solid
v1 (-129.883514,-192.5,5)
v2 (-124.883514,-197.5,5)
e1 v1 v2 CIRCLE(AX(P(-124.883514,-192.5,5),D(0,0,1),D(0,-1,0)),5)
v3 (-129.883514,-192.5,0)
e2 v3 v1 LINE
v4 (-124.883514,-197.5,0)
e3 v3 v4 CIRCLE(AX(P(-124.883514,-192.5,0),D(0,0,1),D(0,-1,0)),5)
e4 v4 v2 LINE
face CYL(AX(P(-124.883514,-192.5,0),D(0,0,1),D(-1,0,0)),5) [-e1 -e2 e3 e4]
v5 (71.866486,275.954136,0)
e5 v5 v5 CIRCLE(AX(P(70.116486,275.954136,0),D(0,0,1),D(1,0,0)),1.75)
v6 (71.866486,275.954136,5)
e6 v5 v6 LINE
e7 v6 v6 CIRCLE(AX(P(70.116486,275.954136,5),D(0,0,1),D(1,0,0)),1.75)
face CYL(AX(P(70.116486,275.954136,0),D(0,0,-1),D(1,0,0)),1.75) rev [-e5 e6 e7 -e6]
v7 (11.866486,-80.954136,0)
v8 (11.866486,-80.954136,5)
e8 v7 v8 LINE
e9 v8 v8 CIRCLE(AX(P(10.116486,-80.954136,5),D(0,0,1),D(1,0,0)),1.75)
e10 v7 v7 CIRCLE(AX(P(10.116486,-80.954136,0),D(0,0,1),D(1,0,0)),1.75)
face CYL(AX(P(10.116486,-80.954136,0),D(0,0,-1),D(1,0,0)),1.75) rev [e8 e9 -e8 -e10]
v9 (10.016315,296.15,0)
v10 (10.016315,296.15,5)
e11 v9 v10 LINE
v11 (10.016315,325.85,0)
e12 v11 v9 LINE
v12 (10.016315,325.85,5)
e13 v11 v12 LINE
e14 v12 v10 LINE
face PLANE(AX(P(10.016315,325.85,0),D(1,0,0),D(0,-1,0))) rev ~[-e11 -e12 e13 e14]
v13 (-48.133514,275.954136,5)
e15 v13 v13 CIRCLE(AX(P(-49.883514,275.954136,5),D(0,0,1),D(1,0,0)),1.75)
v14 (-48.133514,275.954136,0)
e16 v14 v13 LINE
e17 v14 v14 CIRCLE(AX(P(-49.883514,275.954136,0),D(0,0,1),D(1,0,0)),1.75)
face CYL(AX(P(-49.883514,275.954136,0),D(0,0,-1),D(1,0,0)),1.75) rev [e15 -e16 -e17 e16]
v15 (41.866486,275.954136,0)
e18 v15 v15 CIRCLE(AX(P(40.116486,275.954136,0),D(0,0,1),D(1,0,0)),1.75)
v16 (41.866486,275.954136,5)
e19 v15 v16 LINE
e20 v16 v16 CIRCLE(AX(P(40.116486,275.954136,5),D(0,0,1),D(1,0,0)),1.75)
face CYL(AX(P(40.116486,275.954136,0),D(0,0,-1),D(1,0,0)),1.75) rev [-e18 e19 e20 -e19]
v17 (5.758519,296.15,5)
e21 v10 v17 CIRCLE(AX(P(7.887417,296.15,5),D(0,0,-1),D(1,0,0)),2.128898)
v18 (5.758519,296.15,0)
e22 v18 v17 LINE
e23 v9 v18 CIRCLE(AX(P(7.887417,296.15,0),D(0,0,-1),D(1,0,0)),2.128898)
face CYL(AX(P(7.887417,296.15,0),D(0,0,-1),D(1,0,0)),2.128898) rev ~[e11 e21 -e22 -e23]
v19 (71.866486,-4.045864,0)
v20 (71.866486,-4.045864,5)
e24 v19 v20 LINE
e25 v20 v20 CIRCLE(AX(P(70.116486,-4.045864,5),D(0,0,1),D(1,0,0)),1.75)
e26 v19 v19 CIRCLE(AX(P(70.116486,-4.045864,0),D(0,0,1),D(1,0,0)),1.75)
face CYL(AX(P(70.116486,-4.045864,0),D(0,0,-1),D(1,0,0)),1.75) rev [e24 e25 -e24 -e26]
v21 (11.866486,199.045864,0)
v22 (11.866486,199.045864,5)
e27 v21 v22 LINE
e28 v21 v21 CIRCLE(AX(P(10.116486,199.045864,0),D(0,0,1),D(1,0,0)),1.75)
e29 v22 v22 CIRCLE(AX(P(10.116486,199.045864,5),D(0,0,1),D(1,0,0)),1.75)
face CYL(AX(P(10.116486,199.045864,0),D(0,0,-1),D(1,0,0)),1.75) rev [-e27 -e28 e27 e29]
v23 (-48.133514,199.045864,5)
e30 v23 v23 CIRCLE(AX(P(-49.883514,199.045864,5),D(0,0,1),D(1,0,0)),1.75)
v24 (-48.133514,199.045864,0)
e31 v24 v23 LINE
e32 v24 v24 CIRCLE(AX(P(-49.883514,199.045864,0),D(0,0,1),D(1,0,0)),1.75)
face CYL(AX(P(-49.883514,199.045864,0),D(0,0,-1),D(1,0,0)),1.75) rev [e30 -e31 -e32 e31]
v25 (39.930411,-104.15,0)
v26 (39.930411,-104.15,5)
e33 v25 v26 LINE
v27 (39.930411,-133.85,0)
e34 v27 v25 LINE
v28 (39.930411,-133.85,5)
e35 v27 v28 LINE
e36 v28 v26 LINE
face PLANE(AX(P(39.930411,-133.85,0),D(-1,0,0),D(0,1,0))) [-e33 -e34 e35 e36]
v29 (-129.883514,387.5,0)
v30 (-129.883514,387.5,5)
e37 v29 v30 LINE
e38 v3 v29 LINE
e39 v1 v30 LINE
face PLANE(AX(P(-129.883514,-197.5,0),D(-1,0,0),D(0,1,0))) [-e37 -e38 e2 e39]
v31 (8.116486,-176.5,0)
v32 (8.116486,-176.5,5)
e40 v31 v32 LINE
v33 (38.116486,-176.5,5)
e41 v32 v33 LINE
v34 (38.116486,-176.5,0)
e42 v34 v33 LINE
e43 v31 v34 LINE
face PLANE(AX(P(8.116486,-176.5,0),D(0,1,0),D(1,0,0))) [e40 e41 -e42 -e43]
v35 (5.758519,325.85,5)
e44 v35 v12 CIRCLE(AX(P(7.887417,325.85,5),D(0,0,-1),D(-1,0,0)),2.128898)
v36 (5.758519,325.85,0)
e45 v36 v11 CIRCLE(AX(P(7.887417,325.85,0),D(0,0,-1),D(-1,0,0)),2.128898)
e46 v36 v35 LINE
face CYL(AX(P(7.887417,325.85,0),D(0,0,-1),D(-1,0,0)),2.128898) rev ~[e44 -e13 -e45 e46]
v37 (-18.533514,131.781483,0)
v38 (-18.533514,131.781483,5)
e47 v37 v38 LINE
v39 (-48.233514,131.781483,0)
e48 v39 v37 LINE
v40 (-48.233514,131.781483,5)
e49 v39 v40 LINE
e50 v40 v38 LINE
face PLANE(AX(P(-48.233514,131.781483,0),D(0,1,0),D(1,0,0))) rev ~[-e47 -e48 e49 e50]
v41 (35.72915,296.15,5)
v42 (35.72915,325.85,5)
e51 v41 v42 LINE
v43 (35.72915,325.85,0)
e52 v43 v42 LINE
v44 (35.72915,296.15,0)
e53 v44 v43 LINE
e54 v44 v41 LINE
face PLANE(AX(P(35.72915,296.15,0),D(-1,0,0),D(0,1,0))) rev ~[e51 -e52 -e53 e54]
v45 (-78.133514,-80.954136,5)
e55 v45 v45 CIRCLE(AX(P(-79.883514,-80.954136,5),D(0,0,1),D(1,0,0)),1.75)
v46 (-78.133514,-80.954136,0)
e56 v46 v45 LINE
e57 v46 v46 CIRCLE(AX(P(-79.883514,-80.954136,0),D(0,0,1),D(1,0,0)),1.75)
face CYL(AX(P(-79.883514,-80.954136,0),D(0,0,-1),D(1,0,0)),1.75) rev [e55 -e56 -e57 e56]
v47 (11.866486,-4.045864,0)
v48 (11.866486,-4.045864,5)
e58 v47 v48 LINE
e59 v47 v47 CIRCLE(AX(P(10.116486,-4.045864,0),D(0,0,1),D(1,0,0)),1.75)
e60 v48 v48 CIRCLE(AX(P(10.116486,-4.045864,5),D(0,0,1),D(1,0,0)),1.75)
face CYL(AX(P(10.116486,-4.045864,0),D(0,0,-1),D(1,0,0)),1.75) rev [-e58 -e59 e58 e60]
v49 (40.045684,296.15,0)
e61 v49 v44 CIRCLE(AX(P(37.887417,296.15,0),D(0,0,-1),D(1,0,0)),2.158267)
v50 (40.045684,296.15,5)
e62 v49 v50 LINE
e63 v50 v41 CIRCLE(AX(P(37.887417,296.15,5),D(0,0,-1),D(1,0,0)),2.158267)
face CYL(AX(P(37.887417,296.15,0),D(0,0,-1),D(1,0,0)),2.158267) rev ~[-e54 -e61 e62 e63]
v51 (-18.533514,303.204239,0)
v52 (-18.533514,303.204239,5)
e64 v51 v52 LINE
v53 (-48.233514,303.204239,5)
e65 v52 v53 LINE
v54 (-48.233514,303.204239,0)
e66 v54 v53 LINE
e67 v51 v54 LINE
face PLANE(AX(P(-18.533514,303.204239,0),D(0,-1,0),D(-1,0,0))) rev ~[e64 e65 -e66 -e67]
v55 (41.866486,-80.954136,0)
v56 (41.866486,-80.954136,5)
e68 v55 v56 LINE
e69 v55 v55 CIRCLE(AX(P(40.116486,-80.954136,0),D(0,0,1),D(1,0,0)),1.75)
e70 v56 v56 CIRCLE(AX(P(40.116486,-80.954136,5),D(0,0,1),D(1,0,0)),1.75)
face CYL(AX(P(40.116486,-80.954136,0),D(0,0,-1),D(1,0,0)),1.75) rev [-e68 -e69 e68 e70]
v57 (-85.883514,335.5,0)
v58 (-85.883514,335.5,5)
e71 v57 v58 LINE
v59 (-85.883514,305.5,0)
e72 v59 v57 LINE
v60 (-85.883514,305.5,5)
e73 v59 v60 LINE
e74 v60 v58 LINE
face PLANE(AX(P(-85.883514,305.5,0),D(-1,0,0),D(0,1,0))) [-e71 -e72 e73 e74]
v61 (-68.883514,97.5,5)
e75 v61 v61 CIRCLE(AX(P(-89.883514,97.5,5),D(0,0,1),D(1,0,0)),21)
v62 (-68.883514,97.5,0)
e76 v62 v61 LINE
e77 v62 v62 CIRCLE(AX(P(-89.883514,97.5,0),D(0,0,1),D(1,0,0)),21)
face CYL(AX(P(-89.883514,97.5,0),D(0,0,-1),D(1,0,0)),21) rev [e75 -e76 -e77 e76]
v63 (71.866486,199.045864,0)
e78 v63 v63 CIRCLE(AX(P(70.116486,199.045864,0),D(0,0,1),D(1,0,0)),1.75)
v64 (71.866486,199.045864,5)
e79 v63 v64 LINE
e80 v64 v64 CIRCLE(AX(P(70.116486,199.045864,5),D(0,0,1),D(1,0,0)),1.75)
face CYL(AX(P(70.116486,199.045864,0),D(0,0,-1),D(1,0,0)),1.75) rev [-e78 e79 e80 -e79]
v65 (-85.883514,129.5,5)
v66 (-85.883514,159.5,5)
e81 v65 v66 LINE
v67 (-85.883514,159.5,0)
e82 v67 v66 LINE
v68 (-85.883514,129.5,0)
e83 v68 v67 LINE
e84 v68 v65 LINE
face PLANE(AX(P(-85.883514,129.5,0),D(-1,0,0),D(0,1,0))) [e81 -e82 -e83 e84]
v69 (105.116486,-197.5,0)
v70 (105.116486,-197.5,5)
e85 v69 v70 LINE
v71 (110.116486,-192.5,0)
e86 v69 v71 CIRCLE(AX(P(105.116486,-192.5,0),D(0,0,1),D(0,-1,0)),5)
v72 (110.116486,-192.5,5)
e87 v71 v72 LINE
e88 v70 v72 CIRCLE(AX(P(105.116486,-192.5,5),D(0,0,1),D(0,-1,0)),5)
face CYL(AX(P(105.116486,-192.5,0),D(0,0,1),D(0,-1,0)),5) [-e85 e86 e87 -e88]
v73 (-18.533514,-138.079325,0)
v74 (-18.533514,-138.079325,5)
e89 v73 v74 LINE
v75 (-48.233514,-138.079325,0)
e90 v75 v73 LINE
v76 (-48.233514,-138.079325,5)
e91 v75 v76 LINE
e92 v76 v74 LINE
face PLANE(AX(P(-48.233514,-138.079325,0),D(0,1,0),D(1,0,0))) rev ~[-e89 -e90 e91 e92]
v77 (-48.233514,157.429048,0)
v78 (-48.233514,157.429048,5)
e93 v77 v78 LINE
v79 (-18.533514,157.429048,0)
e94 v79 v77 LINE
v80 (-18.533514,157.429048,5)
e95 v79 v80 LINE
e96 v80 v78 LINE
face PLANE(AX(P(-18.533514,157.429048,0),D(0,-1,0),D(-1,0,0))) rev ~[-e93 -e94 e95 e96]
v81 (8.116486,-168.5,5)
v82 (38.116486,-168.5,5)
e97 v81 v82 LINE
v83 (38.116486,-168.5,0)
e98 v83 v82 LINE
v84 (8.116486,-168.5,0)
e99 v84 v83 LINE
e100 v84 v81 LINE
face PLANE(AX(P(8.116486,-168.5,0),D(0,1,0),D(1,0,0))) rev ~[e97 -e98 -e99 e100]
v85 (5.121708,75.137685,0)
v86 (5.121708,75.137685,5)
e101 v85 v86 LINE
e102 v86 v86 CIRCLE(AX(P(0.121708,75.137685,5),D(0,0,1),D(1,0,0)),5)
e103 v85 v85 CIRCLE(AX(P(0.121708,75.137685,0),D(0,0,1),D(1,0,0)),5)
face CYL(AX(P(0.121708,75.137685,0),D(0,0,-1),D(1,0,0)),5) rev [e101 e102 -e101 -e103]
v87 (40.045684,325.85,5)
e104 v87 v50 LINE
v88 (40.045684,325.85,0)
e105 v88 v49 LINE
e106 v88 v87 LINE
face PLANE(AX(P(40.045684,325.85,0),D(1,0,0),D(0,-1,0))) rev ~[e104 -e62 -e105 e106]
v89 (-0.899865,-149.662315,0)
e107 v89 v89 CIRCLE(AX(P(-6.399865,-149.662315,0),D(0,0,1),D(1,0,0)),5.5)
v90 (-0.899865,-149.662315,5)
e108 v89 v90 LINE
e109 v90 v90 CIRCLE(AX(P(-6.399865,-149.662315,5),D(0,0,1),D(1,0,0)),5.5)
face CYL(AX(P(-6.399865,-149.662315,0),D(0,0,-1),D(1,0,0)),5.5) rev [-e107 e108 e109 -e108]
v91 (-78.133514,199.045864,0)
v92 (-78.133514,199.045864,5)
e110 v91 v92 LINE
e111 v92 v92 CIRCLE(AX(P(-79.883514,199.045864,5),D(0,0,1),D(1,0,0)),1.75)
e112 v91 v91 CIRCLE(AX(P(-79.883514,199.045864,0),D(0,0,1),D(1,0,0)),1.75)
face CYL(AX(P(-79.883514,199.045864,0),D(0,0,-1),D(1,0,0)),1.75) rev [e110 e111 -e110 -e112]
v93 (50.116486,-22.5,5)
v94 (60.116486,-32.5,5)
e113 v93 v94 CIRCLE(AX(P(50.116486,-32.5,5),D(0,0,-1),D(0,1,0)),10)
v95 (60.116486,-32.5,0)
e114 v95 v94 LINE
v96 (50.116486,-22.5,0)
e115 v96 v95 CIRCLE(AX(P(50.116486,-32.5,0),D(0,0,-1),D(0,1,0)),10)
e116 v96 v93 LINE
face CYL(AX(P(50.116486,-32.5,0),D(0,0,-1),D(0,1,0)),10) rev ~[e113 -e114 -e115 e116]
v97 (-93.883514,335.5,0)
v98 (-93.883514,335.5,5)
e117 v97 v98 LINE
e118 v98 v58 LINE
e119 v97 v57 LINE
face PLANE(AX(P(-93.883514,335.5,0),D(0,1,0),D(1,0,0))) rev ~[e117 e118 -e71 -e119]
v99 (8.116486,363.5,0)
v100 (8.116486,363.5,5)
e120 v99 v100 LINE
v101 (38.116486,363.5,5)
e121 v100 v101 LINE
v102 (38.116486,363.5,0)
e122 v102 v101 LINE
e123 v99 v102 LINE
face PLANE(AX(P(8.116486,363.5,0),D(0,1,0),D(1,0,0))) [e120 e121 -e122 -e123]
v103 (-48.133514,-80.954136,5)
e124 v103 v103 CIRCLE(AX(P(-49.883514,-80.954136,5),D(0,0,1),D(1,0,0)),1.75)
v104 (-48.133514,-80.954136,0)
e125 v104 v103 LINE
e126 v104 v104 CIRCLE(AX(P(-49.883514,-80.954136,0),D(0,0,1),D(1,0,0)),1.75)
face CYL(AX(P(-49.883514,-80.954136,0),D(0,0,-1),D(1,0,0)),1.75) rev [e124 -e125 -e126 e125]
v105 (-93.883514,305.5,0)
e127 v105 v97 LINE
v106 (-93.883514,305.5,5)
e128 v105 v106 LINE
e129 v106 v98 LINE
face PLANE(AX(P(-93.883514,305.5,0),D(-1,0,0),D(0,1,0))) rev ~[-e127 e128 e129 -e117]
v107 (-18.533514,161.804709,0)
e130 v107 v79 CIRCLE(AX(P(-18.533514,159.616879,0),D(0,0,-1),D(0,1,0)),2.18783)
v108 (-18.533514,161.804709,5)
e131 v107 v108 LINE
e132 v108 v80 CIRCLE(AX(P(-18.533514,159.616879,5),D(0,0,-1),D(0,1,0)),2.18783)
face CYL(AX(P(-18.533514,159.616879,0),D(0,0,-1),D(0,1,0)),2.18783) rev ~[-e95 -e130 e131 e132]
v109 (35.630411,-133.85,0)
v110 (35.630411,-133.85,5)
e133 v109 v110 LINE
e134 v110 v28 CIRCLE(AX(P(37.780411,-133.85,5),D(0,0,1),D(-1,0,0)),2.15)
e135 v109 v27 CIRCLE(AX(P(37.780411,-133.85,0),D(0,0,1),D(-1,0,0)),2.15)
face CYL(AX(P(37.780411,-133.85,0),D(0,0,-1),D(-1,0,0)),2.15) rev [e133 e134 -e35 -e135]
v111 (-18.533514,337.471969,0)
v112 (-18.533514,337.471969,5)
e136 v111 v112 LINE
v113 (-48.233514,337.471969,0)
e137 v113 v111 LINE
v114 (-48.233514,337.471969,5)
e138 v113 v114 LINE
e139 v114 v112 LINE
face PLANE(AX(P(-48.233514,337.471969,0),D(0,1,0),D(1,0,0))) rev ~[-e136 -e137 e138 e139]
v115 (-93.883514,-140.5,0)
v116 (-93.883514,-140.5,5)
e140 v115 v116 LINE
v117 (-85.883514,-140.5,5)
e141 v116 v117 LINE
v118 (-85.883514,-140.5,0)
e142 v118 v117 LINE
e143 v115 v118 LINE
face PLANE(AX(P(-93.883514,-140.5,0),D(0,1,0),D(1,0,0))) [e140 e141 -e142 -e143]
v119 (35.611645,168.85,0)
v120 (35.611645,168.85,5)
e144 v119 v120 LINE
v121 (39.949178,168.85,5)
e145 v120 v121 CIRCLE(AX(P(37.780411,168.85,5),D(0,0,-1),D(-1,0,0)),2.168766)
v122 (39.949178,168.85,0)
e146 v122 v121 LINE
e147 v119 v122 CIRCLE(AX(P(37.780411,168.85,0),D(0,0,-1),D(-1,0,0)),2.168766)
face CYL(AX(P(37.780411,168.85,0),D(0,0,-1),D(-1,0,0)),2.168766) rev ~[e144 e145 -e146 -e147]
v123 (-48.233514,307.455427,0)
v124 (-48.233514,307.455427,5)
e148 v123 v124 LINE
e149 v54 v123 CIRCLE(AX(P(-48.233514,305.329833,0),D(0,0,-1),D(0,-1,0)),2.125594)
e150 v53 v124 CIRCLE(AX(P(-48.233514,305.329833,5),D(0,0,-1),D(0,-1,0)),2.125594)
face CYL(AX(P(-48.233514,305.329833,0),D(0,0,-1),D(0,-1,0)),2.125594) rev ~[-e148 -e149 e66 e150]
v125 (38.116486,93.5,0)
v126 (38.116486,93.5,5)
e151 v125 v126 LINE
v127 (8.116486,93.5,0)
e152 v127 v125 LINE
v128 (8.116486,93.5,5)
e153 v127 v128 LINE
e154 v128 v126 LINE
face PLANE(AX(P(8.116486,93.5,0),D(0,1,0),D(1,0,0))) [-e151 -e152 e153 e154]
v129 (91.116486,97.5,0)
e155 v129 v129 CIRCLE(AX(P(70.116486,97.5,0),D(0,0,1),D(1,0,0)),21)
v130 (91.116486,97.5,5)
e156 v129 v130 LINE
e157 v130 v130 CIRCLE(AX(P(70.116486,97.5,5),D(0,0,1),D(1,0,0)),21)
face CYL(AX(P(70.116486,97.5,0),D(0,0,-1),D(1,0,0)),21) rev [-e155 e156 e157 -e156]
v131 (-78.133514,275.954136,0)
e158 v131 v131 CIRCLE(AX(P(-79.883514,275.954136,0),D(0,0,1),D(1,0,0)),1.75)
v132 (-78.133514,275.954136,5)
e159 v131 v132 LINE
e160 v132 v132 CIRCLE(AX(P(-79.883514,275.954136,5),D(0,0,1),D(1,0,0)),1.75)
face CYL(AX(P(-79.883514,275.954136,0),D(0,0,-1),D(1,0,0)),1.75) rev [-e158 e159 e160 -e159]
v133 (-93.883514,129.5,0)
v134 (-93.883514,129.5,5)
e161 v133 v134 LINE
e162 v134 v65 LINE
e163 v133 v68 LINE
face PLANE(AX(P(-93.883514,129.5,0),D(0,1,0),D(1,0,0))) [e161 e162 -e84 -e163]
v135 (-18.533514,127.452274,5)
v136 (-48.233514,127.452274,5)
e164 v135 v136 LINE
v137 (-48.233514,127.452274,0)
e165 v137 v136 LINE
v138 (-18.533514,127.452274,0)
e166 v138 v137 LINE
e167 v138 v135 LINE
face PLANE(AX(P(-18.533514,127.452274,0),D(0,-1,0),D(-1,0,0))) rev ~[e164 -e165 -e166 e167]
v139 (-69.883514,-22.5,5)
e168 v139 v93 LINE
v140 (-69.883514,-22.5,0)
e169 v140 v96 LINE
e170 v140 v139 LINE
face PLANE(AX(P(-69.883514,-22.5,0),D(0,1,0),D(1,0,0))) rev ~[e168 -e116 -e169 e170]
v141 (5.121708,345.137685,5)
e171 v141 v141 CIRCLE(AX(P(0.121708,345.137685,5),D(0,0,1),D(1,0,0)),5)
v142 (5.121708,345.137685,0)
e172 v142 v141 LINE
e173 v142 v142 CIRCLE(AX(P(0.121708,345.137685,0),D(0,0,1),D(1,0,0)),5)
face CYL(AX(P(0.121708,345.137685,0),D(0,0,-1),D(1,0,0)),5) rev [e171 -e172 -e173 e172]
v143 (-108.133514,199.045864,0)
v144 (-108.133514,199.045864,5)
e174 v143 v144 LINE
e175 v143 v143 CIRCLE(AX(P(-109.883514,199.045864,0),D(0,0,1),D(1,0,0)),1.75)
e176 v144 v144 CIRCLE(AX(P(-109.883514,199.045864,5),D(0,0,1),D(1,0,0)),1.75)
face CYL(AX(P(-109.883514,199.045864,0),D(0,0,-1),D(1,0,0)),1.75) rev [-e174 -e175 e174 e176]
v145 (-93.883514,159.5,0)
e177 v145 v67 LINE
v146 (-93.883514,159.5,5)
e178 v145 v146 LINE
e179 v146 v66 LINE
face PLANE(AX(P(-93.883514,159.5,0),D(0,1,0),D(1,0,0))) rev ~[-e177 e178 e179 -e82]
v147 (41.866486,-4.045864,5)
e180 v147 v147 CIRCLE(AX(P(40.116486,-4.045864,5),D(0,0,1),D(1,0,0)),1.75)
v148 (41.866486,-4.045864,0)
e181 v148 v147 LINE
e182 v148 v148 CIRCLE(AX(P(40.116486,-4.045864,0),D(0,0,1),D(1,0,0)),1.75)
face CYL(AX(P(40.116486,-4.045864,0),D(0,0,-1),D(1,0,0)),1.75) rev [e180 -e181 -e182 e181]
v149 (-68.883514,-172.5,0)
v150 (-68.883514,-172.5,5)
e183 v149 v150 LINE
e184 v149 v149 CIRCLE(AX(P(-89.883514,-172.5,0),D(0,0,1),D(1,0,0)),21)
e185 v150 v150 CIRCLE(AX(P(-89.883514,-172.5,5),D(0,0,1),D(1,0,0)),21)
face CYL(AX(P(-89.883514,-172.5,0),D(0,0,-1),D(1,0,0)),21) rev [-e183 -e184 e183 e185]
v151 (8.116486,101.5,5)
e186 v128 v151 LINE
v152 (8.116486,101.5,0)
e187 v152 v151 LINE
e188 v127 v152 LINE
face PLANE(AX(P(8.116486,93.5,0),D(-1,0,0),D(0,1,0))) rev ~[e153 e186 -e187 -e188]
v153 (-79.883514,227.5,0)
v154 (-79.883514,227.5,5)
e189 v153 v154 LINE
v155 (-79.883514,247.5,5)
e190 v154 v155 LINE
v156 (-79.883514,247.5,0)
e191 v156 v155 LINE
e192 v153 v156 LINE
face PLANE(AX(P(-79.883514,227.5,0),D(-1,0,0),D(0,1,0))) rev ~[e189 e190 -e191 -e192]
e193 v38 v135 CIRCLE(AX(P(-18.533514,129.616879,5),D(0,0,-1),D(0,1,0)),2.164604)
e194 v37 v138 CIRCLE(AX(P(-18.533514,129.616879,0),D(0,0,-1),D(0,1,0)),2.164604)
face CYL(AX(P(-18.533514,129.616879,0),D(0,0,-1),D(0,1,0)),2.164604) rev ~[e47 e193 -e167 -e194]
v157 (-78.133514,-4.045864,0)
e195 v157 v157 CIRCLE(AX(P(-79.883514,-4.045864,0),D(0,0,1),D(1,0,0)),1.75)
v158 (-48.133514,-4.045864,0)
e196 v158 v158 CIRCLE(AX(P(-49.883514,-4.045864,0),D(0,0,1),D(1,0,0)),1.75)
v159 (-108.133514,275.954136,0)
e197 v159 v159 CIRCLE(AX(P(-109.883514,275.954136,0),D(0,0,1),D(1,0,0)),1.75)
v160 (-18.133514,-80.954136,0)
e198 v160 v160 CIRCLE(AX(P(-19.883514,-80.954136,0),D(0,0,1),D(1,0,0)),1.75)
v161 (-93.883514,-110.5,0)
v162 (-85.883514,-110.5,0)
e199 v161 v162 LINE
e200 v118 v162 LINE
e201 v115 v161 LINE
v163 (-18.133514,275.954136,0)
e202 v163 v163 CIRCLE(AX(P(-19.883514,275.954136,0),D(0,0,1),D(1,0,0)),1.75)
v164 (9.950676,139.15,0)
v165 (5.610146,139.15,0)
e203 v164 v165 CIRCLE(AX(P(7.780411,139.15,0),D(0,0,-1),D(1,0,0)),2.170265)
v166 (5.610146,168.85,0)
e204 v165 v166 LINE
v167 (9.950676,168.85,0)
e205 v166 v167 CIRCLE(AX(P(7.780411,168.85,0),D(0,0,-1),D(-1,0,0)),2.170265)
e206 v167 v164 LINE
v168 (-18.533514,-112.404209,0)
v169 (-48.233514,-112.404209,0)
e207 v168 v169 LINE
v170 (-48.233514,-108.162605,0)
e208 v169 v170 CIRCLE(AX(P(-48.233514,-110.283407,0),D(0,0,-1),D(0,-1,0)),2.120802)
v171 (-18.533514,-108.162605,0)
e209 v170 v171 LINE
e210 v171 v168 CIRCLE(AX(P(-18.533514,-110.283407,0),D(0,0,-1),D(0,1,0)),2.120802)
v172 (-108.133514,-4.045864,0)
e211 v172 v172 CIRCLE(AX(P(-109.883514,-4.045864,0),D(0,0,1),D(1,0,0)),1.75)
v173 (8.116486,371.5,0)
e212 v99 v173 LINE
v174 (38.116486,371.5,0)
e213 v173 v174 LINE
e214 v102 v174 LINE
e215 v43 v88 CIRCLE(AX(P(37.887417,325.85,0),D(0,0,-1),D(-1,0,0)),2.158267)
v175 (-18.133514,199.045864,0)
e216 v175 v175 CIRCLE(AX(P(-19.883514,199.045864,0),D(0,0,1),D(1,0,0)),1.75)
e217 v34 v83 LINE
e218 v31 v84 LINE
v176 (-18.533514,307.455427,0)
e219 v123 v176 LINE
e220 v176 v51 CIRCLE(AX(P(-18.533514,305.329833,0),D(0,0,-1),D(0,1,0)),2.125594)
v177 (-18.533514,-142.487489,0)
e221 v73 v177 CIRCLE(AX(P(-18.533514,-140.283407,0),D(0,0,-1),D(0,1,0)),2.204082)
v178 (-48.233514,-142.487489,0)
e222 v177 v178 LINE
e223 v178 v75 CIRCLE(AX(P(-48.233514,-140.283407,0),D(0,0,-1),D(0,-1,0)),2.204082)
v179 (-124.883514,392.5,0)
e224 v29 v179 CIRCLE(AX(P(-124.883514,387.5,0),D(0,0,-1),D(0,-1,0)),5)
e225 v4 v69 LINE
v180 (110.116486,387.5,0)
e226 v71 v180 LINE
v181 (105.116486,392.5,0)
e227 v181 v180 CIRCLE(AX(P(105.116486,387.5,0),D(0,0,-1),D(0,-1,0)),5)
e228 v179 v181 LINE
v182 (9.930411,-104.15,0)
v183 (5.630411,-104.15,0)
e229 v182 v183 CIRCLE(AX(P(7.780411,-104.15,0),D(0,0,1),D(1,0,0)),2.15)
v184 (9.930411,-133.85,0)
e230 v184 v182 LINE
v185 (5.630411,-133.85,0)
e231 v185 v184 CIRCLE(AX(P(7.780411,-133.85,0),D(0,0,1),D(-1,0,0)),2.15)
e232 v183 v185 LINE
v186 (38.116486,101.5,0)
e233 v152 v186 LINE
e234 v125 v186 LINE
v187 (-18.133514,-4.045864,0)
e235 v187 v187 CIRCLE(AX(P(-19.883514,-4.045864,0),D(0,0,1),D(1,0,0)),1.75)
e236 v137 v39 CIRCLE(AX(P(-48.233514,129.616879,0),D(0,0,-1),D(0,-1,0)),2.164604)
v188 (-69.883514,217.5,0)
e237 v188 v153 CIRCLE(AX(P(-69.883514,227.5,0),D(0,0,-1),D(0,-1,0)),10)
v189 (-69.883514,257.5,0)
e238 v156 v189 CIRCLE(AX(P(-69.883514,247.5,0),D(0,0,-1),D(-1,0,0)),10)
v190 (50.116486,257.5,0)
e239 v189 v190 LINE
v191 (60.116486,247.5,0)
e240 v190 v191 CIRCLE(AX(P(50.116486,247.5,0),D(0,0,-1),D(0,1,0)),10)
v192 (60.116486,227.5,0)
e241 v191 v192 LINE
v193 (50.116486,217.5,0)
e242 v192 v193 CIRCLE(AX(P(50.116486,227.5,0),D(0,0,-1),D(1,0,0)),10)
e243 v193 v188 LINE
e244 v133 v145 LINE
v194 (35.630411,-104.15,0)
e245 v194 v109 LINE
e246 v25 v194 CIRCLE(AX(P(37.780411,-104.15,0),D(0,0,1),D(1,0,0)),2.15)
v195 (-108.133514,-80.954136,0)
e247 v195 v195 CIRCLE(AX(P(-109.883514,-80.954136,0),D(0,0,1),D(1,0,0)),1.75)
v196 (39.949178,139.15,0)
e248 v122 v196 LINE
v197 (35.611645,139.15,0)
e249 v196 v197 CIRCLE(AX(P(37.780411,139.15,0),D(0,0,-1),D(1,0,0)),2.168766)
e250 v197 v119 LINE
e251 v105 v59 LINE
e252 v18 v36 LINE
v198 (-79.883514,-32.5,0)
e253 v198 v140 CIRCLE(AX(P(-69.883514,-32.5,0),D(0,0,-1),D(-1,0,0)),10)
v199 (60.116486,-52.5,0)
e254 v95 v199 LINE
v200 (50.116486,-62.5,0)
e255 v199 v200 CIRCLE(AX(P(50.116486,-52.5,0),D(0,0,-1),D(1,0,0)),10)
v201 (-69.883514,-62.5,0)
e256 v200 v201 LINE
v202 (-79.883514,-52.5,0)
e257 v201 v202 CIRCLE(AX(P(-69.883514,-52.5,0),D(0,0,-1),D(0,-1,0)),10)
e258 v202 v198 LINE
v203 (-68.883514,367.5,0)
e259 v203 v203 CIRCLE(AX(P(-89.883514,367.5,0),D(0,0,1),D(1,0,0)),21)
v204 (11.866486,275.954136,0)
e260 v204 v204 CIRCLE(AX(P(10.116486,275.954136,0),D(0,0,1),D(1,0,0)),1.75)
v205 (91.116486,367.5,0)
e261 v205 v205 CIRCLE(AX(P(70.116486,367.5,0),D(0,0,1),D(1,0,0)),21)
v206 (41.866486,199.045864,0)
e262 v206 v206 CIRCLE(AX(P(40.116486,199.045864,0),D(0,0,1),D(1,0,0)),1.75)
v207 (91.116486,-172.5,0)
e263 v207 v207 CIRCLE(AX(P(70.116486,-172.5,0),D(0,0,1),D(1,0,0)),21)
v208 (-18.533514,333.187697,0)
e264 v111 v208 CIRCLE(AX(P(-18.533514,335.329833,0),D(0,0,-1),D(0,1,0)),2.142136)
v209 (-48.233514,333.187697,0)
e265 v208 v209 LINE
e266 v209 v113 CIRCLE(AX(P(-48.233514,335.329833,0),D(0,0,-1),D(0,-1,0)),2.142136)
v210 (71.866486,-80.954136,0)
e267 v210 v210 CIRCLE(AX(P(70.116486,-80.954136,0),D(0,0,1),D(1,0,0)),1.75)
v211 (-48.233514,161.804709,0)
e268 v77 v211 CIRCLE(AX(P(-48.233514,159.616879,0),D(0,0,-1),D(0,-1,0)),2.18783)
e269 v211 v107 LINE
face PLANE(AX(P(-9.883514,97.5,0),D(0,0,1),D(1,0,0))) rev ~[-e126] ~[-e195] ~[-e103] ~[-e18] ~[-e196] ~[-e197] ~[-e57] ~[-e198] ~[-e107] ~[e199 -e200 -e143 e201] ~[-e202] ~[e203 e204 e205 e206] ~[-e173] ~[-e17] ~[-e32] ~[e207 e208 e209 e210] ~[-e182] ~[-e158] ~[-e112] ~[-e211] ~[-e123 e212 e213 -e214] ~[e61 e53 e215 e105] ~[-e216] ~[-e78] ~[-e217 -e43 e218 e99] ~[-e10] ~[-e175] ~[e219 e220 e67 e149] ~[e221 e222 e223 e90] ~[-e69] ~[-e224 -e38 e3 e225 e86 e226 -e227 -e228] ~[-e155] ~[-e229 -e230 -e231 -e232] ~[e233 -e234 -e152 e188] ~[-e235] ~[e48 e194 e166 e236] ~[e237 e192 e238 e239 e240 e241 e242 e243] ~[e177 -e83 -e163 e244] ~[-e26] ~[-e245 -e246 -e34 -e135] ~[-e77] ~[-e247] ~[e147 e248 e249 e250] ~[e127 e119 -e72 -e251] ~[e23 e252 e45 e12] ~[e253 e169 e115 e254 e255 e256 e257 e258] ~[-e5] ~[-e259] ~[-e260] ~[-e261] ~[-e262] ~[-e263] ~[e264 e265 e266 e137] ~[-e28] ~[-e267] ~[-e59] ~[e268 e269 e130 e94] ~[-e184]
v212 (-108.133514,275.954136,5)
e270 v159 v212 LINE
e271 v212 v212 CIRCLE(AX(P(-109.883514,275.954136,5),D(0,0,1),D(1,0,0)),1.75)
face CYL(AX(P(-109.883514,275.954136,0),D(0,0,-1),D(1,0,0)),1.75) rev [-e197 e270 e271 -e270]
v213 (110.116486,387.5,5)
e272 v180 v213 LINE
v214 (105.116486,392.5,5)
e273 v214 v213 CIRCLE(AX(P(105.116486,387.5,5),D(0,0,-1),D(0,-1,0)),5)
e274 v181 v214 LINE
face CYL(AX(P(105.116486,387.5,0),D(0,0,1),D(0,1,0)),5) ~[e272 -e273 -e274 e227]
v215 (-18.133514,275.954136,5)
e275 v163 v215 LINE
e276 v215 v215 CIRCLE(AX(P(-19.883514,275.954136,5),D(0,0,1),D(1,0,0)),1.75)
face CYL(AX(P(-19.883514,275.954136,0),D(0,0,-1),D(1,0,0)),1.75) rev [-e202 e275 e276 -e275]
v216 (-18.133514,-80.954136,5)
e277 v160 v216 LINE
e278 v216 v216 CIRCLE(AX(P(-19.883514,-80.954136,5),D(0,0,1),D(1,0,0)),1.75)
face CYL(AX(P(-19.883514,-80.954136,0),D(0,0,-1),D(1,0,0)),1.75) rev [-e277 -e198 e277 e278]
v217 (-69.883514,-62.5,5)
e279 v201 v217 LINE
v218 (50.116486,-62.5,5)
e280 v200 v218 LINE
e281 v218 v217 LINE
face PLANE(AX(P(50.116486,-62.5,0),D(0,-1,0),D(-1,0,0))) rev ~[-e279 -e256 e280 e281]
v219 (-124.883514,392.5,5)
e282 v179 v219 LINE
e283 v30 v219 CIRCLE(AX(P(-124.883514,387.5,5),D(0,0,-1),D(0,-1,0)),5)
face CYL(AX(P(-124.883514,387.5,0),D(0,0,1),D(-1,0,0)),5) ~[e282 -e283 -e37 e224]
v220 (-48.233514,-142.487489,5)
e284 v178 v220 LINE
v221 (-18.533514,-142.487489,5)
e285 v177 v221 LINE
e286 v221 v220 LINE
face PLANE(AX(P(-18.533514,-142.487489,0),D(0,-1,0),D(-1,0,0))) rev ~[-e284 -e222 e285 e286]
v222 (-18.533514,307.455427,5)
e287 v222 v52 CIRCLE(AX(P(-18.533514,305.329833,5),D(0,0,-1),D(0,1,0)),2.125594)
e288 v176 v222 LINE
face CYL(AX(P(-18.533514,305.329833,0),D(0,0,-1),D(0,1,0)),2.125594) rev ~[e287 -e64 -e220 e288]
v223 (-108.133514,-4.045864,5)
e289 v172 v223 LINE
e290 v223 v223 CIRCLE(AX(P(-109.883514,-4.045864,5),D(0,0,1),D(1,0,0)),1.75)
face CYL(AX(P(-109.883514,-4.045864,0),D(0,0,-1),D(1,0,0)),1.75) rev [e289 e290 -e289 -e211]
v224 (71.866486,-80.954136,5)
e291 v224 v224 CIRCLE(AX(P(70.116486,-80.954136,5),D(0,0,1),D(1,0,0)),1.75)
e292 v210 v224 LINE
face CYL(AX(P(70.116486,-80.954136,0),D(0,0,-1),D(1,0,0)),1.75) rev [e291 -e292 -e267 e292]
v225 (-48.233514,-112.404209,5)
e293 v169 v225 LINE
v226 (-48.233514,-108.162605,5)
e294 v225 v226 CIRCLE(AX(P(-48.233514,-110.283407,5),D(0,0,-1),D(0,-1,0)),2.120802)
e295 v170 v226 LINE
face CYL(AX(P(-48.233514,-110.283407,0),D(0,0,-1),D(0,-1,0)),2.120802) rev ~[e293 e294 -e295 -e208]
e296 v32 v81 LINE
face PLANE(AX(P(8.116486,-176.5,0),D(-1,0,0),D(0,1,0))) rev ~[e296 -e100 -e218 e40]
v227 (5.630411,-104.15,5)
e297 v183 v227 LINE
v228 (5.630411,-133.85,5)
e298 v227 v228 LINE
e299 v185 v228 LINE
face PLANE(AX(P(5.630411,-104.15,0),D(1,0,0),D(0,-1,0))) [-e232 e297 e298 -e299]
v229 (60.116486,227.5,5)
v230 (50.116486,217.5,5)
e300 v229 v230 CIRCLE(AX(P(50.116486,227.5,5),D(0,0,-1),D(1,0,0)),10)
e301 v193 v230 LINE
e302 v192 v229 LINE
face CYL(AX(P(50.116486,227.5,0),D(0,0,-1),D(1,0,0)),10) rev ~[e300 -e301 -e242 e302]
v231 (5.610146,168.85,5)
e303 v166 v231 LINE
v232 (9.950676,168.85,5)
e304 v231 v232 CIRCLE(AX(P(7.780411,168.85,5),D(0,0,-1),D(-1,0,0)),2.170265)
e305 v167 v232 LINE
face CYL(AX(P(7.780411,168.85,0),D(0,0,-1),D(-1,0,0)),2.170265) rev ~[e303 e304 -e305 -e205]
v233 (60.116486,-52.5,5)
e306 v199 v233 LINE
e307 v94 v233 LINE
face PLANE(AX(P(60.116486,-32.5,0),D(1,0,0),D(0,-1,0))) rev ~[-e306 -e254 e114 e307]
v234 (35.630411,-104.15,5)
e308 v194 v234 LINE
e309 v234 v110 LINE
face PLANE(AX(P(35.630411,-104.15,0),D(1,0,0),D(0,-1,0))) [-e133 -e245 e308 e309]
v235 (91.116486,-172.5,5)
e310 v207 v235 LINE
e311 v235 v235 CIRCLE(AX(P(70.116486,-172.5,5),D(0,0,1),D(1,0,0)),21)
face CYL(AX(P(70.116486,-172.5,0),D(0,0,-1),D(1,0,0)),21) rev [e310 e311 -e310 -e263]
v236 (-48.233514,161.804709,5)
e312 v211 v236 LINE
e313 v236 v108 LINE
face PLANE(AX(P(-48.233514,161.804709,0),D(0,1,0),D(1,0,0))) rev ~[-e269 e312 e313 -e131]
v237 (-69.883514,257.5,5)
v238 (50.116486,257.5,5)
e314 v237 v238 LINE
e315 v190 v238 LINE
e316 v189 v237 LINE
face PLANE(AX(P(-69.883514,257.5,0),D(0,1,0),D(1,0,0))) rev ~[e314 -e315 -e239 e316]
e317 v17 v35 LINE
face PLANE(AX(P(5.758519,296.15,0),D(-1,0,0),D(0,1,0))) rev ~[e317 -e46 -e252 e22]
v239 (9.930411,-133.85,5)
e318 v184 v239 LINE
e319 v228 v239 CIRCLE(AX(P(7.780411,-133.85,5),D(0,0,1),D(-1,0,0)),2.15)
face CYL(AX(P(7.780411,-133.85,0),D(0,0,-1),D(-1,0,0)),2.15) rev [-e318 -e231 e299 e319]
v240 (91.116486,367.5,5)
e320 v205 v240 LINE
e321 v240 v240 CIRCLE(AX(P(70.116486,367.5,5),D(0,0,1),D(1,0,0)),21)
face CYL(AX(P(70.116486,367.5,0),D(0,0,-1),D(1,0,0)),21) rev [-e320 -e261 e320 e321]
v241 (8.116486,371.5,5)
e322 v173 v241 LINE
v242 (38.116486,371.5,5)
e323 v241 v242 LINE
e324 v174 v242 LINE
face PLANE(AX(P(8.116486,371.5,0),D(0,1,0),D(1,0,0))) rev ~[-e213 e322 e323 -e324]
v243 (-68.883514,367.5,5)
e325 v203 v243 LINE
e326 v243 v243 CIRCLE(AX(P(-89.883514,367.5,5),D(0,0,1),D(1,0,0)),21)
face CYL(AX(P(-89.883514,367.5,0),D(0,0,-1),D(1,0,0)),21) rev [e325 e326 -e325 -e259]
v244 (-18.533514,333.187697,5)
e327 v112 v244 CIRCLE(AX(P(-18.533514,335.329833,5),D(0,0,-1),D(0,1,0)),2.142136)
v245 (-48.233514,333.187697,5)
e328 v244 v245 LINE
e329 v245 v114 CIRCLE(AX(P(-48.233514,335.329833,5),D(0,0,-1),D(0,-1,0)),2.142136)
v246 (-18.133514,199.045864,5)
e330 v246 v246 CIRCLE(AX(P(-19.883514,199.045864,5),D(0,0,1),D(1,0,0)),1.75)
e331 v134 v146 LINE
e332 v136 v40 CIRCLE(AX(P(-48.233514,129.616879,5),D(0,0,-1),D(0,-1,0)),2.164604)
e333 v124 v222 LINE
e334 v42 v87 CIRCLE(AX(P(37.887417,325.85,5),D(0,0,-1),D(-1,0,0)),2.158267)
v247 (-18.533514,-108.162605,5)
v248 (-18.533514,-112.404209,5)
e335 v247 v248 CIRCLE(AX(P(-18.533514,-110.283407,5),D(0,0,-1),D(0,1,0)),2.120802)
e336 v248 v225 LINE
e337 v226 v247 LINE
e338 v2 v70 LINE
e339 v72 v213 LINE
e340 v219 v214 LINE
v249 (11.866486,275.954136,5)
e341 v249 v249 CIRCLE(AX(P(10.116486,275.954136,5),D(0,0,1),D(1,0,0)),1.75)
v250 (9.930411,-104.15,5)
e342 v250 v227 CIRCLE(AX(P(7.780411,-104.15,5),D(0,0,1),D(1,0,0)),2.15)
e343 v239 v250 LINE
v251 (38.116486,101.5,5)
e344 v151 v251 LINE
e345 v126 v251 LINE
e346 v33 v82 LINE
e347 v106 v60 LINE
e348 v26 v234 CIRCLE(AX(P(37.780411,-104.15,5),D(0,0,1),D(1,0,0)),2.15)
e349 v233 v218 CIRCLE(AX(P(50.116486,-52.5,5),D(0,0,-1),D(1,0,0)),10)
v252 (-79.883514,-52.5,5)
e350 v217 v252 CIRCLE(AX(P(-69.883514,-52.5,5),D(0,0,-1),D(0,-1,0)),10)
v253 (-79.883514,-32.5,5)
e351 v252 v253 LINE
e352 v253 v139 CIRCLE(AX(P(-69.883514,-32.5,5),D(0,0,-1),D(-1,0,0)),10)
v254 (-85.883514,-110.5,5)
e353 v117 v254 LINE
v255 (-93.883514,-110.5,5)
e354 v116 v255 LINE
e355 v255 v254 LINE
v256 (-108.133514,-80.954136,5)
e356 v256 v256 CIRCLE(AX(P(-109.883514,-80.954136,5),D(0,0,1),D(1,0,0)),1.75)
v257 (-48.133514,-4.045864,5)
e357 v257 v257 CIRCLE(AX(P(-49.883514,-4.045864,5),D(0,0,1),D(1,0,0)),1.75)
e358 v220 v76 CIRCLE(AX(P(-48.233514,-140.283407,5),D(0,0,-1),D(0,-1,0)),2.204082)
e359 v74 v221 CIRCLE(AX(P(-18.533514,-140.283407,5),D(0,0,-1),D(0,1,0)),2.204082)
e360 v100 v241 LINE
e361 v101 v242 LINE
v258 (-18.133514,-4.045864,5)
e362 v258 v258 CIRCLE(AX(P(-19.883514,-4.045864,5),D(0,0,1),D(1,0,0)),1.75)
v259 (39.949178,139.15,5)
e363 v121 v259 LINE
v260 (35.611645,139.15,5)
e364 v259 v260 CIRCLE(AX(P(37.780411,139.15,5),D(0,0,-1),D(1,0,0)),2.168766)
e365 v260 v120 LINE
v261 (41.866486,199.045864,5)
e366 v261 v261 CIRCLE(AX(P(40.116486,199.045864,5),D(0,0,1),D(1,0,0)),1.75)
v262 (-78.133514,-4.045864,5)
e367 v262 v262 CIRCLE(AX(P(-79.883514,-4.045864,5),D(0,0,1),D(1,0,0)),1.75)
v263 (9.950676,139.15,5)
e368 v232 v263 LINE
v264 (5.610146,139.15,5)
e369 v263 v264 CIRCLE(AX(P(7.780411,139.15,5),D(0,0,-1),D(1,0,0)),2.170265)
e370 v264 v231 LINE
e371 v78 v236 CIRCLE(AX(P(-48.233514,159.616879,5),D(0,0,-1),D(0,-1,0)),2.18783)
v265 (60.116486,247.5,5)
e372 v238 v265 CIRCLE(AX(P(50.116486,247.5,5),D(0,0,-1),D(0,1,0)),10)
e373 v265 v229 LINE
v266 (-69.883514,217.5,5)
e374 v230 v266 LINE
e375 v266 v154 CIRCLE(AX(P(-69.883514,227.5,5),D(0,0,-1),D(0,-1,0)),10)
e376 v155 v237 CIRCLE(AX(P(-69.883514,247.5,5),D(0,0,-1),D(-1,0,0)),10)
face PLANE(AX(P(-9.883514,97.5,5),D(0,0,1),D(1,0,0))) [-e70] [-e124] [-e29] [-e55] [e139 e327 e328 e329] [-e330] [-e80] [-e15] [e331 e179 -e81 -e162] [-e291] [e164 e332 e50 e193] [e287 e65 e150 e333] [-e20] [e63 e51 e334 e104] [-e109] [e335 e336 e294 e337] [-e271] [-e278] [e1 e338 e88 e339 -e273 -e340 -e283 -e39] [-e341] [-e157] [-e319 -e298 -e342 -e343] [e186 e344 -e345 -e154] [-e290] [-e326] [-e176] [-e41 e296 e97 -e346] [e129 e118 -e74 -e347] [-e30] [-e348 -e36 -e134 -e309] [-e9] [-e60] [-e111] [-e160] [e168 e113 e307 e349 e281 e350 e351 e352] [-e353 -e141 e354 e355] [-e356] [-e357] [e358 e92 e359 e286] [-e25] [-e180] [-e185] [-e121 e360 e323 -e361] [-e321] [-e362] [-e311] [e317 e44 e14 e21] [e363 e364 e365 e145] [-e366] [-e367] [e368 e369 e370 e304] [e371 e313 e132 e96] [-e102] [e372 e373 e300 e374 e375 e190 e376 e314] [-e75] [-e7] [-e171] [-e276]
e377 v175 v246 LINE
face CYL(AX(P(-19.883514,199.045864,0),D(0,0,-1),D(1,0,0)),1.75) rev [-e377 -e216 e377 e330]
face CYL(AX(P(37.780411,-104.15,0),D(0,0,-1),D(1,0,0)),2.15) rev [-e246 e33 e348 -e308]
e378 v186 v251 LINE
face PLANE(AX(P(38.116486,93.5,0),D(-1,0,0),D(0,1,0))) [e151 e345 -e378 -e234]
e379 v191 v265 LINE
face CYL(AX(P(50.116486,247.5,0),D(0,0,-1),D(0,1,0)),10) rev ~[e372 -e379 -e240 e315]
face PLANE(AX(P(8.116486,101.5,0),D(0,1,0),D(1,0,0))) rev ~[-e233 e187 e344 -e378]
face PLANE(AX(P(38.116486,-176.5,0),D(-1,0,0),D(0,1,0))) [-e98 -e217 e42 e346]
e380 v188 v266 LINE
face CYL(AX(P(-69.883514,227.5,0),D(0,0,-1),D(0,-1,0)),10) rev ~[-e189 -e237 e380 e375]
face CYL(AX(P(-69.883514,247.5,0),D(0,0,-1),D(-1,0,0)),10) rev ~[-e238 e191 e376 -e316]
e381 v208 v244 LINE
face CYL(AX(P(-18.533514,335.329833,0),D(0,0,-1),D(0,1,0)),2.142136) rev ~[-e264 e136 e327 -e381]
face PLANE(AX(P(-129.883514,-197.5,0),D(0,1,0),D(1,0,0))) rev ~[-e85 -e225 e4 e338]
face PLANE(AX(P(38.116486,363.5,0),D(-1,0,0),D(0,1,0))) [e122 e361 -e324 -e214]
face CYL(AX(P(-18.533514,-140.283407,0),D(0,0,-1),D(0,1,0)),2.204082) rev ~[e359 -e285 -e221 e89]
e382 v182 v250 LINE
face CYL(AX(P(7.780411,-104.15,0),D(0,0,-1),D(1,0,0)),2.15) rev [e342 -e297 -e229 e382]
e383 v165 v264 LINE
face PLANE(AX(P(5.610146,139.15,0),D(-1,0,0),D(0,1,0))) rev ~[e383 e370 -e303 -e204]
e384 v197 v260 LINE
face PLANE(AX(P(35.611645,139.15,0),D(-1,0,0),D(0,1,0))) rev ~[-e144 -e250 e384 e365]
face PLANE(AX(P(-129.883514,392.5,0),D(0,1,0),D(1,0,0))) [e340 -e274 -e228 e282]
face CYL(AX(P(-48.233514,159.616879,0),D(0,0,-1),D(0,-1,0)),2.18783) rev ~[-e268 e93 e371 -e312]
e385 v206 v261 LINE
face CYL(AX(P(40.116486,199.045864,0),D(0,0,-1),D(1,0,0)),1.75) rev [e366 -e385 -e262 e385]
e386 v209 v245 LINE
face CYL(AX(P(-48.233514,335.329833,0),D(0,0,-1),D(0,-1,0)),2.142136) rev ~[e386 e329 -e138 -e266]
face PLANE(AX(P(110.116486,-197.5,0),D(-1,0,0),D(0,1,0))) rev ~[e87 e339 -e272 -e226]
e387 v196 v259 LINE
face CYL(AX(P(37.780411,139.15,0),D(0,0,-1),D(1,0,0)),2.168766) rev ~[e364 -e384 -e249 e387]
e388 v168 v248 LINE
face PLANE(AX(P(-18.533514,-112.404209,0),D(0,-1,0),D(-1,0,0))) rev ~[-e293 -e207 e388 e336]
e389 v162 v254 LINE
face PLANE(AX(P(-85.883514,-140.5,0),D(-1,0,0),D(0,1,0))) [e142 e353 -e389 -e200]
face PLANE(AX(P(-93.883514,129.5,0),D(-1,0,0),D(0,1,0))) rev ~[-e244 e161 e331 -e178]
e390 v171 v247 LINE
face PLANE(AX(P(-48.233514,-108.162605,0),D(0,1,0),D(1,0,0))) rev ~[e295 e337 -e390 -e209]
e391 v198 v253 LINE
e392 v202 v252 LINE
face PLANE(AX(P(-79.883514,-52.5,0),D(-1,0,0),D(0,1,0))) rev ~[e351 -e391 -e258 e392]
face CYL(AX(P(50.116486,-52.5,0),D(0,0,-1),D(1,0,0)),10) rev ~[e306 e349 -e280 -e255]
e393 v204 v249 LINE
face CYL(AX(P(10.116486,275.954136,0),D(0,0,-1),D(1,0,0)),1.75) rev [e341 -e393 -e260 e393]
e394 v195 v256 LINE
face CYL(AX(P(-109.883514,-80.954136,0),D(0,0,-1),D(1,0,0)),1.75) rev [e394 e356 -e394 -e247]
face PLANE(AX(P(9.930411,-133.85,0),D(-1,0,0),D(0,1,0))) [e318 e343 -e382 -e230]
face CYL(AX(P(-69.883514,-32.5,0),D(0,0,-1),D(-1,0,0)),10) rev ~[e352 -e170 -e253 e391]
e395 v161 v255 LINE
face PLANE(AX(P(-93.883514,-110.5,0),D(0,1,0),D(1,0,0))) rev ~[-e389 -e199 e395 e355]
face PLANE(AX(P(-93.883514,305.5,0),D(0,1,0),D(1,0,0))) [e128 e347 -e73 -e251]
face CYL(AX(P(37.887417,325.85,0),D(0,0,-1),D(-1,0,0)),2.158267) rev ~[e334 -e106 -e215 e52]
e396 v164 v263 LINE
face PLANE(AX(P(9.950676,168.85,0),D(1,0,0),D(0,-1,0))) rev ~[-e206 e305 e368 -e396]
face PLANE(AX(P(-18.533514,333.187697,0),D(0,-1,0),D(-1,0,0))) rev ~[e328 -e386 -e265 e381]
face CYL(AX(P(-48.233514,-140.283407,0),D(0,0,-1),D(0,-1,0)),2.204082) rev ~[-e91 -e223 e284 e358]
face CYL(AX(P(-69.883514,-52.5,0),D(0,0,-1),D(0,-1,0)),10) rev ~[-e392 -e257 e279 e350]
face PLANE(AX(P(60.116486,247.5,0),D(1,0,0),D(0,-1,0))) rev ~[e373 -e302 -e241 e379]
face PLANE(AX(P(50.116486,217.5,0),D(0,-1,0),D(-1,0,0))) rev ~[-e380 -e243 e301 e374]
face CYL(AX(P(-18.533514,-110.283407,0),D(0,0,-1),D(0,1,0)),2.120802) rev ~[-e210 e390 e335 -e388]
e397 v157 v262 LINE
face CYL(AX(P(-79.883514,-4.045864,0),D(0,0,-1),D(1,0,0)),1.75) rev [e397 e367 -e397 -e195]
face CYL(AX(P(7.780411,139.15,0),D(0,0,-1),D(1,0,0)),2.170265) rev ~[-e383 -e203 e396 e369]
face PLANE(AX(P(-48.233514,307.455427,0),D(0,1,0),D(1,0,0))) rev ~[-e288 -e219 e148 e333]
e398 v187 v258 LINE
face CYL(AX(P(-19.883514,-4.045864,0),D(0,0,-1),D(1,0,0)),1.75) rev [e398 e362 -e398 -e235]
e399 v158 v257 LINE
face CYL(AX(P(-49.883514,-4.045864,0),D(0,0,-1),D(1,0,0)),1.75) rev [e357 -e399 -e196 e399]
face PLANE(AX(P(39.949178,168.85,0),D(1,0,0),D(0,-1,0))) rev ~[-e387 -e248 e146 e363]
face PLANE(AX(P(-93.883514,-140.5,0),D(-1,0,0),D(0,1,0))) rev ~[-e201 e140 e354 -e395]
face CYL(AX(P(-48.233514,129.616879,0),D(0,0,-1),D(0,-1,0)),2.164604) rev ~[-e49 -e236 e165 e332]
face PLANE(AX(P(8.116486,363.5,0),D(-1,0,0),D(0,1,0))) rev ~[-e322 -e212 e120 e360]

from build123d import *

# Parameters (mm, degrees)
SKETCH_1_W      = 240
SKETCH_1_H      = 590
SKETCH_1_R      = 21
SKETCH_1_R_2    = 1.75
SKETCH_1_R_3    = 5
SKETCH_1_R_4    = 5.5
SKETCH_1_W_2    = 8
SKETCH_1_H_2    = 30
SKETCH_1_W_3    = 30
SKETCH_1_H_3    = 8
EXTRUDE_1_DEPTH = 5
FILLET_1_R      = 5


with BuildPart() as part:
    # 草图1 → 凸台-拉伸1 (new body)
    with BuildSketch(Plane.XY):
        with Locations((-9.883514394, 97.5)):
            Rectangle(SKETCH_1_W, SKETCH_1_H)
        with Locations((70.116485606, 367.5)):
            Circle(SKETCH_1_R, mode=Mode.SUBTRACT)
        with Locations((70.116485606, 97.5)):
            Circle(SKETCH_1_R, mode=Mode.SUBTRACT)
        with Locations((70.116485606, -172.5)):
            Circle(SKETCH_1_R, mode=Mode.SUBTRACT)
        with Locations((-89.883514394, 367.5)):
            Circle(SKETCH_1_R, mode=Mode.SUBTRACT)
        with Locations((-89.883514394, 97.5)):
            Circle(SKETCH_1_R, mode=Mode.SUBTRACT)
        with Locations((-89.883514394, -172.5)):
            Circle(SKETCH_1_R, mode=Mode.SUBTRACT)
        with Locations((-109.883514394, 275.954136104)):
            Circle(SKETCH_1_R_2, mode=Mode.SUBTRACT)
        with Locations((-79.883514394, 275.954136104)):
            Circle(SKETCH_1_R_2, mode=Mode.SUBTRACT)
        with Locations((-49.883514394, 275.954136104)):
            Circle(SKETCH_1_R_2, mode=Mode.SUBTRACT)
        with Locations((-19.883514394, 275.954136104)):
            Circle(SKETCH_1_R_2, mode=Mode.SUBTRACT)
        with Locations((10.116485606, 275.954136104)):
            Circle(SKETCH_1_R_2, mode=Mode.SUBTRACT)
        with Locations((40.116485606, 275.954136104)):
            Circle(SKETCH_1_R_2, mode=Mode.SUBTRACT)
        with Locations((40.116485606, 199.045863896)):
            Circle(SKETCH_1_R_2, mode=Mode.SUBTRACT)
        with Locations((10.116485606, 199.045863896)):
            Circle(SKETCH_1_R_2, mode=Mode.SUBTRACT)
        with Locations((-19.883514394, 199.045863896)):
            Circle(SKETCH_1_R_2, mode=Mode.SUBTRACT)
        with Locations((-49.883514394, 199.045863896)):
            Circle(SKETCH_1_R_2, mode=Mode.SUBTRACT)
        with Locations((-109.883514394, 199.045863896)):
            Circle(SKETCH_1_R_2, mode=Mode.SUBTRACT)
        with Locations((-79.883514394, 199.045863896)):
            Circle(SKETCH_1_R_2, mode=Mode.SUBTRACT)
        with Locations((70.116485606, 275.954136104)):
            Circle(SKETCH_1_R_2, mode=Mode.SUBTRACT)
        with Locations((70.116485606, 199.045863896)):
            Circle(SKETCH_1_R_2, mode=Mode.SUBTRACT)
        with Locations((40.116485606, -80.954136104)):
            Circle(SKETCH_1_R_2, mode=Mode.SUBTRACT)
        with Locations((10.116485606, -80.954136104)):
            Circle(SKETCH_1_R_2, mode=Mode.SUBTRACT)
        with Locations((-19.883514394, -80.954136104)):
            Circle(SKETCH_1_R_2, mode=Mode.SUBTRACT)
        with Locations((-49.883514394, -80.954136104)):
            Circle(SKETCH_1_R_2, mode=Mode.SUBTRACT)
        with Locations((-79.883514394, -80.954136104)):
            Circle(SKETCH_1_R_2, mode=Mode.SUBTRACT)
        with Locations((-109.883514394, -80.954136104)):
            Circle(SKETCH_1_R_2, mode=Mode.SUBTRACT)
        with Locations((70.116485606, -4.045863896)):
            Circle(SKETCH_1_R_2, mode=Mode.SUBTRACT)
        with Locations((-79.883514394, -4.045863896)):
            Circle(SKETCH_1_R_2, mode=Mode.SUBTRACT)
        with Locations((-109.883514394, -4.045863896)):
            Circle(SKETCH_1_R_2, mode=Mode.SUBTRACT)
        with Locations((-49.883514394, -4.045863896)):
            Circle(SKETCH_1_R_2, mode=Mode.SUBTRACT)
        with Locations((-19.883514394, -4.045863896)):
            Circle(SKETCH_1_R_2, mode=Mode.SUBTRACT)
        with Locations((10.116485606, -4.045863896)):
            Circle(SKETCH_1_R_2, mode=Mode.SUBTRACT)
        with Locations((40.116485606, -4.045863896)):
            Circle(SKETCH_1_R_2, mode=Mode.SUBTRACT)
        with Locations((70.116485606, -80.954136104)):
            Circle(SKETCH_1_R_2, mode=Mode.SUBTRACT)
        with Locations((0.12170833, 345.137685343)):
            Circle(SKETCH_1_R_3, mode=Mode.SUBTRACT)
        with Locations((0.12170833, 75.137685343)):
            Circle(SKETCH_1_R_3, mode=Mode.SUBTRACT)
        with Locations((-6.399865329, -149.662314657)):
            Circle(SKETCH_1_R_4, mode=Mode.SUBTRACT)
        with BuildLine():
            Line((-48.233514394, 337.471968803), (-18.533514394, 337.471968803))
            ThreePointArc((-18.533514394, 337.471968803), (-16.391378464, 335.329832872), (-18.533514394, 333.187696941))
            Line((-18.533514394, 333.187696941), (-48.233514394, 333.187696941))
            ThreePointArc((-48.233514394, 333.187696941), (-50.375650325, 335.329832872), (-48.233514394, 337.471968803))
        make_face(mode=Mode.SUBTRACT)
        with BuildLine():
            Line((-48.233514394, 307.455426815), (-18.533514394, 307.455426815))
            ThreePointArc((-18.533514394, 307.455426815), (-16.407920452, 305.329832872), (-18.533514394, 303.20423893))
            Line((-18.533514394, 303.20423893), (-48.233514394, 303.20423893))
            ThreePointArc((-48.233514394, 303.20423893), (-50.359108337, 305.329832872), (-48.233514394, 307.455426815))
        make_face(mode=Mode.SUBTRACT)
        with BuildLine():
            Line((10.016314713, 325.85), (10.016314713, 296.15))
            ThreePointArc((10.016314713, 296.15), (7.887416749, 294.021102036), (5.758518785, 296.15))
            Line((5.758518785, 296.15), (5.758518785, 325.85))
            ThreePointArc((5.758518785, 325.85), (7.887416749, 327.978897964), (10.016314713, 325.85))
        make_face(mode=Mode.SUBTRACT)
        with BuildLine():
            Line((40.045683981, 325.85), (40.045683981, 296.15))
            ThreePointArc((40.045683981, 296.15), (37.887416749, 293.991732767), (35.729149516, 296.15))
            Line((35.729149516, 296.15), (35.729149516, 325.85))
            ThreePointArc((35.729149516, 325.85), (37.887416749, 328.008267233), (40.045683981, 325.85))
        make_face(mode=Mode.SUBTRACT)
        with BuildLine():
            Line((-48.233514394, 161.804708914), (-18.533514394, 161.804708914))
            ThreePointArc((-18.533514394, 161.804708914), (-16.345684038, 159.616878557), (-18.533514394, 157.429048201))
            Line((-18.533514394, 157.429048201), (-48.233514394, 157.429048201))
            ThreePointArc((-48.233514394, 157.429048201), (-50.421344751, 159.616878557), (-48.233514394, 161.804708914))
        make_face(mode=Mode.SUBTRACT)
        with BuildLine():
            Line((-48.233514394, 131.781482951), (-18.533514394, 131.781482951))
            ThreePointArc((-18.533514394, 131.781482951), (-16.368910001, 129.616878557), (-18.533514394, 127.452274164))
            Line((-18.533514394, 127.452274164), (-48.233514394, 127.452274164))
            ThreePointArc((-48.233514394, 127.452274164), (-50.398118788, 129.616878557), (-48.233514394, 131.781482951))
        make_face(mode=Mode.SUBTRACT)
        with BuildLine():
            Line((9.950676084, 168.85), (9.950676084, 139.15))
            ThreePointArc((9.950676084, 139.15), (7.780411189, 136.979735105), (5.610146295, 139.15))
            Line((5.610146295, 139.15), (5.610146295, 168.85))
            ThreePointArc((5.610146295, 168.85), (7.780411189, 171.020264895), (9.950676084, 168.85))
        make_face(mode=Mode.SUBTRACT)
        with BuildLine():
            Line((39.949177668, 168.85), (39.949177668, 139.15))
            ThreePointArc((39.949177668, 139.15), (37.780411189, 136.981233521), (35.611644711, 139.15))
            Line((35.611644711, 139.15), (35.611644711, 168.85))
            ThreePointArc((35.611644711, 168.85), (37.780411189, 171.018766479), (39.949177668, 168.85))
        make_face(mode=Mode.SUBTRACT)
        with BuildLine():
            Line((5.630411189, -104.15), (5.630411189, -133.85))
            ThreePointArc((5.630411189, -133.85), (7.780411189, -136), (9.930411189, -133.85))
            Line((9.930411189, -133.85), (9.930411189, -104.15))
            ThreePointArc((9.930411189, -104.15), (7.780411189, -102), (5.630411189, -104.15))
        make_face(mode=Mode.SUBTRACT)
        with BuildLine():
            Line((35.630411189, -104.15), (35.630411189, -133.85))
            ThreePointArc((35.630411189, -133.85), (37.780411189, -136), (39.930411189, -133.85))
            Line((39.930411189, -133.85), (39.930411189, -104.15))
            ThreePointArc((39.930411189, -104.15), (37.780411189, -102), (35.630411189, -104.15))
        make_face(mode=Mode.SUBTRACT)
        with BuildLine():
            Line((-48.233514394, -108.162604787), (-18.533514394, -108.162604787))
            ThreePointArc((-18.533514394, -108.162604787), (-16.412712465, -110.283406716), (-18.533514394, -112.404208645))
            Line((-18.533514394, -112.404208645), (-48.233514394, -112.404208645))
            ThreePointArc((-48.233514394, -112.404208645), (-50.354316324, -110.283406716), (-48.233514394, -108.162604787))
        make_face(mode=Mode.SUBTRACT)
        with BuildLine():
            Line((-48.233514394, -138.079324724), (-18.533514394, -138.079324724))
            ThreePointArc((-18.533514394, -138.079324724), (-16.329432402, -140.283406716), (-18.533514394, -142.487488708))
            Line((-18.533514394, -142.487488708), (-48.233514394, -142.487488708))
            ThreePointArc((-48.233514394, -142.487488708), (-50.437596387, -140.283406716), (-48.233514394, -138.079324724))
        make_face(mode=Mode.SUBTRACT)
        with Locations((-89.883514394, 144.5)):
            Rectangle(SKETCH_1_W_2, SKETCH_1_H_2, mode=Mode.SUBTRACT)
        with Locations((23.116485606, 97.5)):
            Rectangle(SKETCH_1_W_3, SKETCH_1_H_3, mode=Mode.SUBTRACT)
        with Locations((-89.883514394, 320.5)):
            Rectangle(SKETCH_1_W_2, SKETCH_1_H_2, mode=Mode.SUBTRACT)
        with Locations((-89.883514394, -125.5)):
            Rectangle(SKETCH_1_W_2, SKETCH_1_H_2, mode=Mode.SUBTRACT)
        with Locations((23.116485606, -172.5)):
            Rectangle(SKETCH_1_W_3, SKETCH_1_H_3, mode=Mode.SUBTRACT)
        with Locations((23.116485606, 367.5)):
            Rectangle(SKETCH_1_W_3, SKETCH_1_H_3, mode=Mode.SUBTRACT)
        with BuildLine():
            Line((60.116485606, -32.5), (60.116485606, -52.5))
            ThreePointArc((60.116485606, -52.5), (57.187553417, -59.571067812), (50.116485606, -62.5))
            Line((50.116485606, -62.5), (-69.883514394, -62.5))
            ThreePointArc((-69.883514394, -62.5), (-76.954582206, -59.571067812), (-79.883514394, -52.5))
            Line((-79.883514394, -52.5), (-79.883514394, -32.5))
            ThreePointArc((-79.883514394, -32.5), (-76.954582206, -25.428932188), (-69.883514394, -22.5))
            Line((-69.883514394, -22.5), (50.116485606, -22.5))
            ThreePointArc((50.116485606, -22.5), (57.187553417, -25.428932188), (60.116485606, -32.5))
        make_face(mode=Mode.SUBTRACT)
        with BuildLine():
            Line((50.116485606, 217.5), (-69.883514394, 217.5))
            ThreePointArc((-69.883514394, 217.5), (-76.954582206, 220.428932188), (-79.883514394, 227.5))
            Line((-79.883514394, 227.5), (-79.883514394, 247.5))
            ThreePointArc((-79.883514394, 247.5), (-76.954582206, 254.571067812), (-69.883514394, 257.5))
            Line((-69.883514394, 257.5), (50.116485606, 257.5))
            ThreePointArc((50.116485606, 257.5), (57.187553417, 254.571067812), (60.116485606, 247.5))
            Line((60.116485606, 247.5), (60.116485606, 227.5))
            ThreePointArc((60.116485606, 227.5), (57.187553417, 220.428932188), (50.116485606, 217.5))
        make_face(mode=Mode.SUBTRACT)
    extrude(amount=EXTRUDE_1_DEPTH)

    # 圆角1
    fillet_1_edges = [part.edges().sort_by_distance(p)[0] for p in [
        (-129.883514394, 392.5, 2.5),
        (110.116485606, 392.5, 2.5),
        (110.116485606, -197.5, 2.5),
        (-129.883514394, -197.5, 2.5),
    ]]
    fillet(fillet_1_edges, radius=FILLET_1_R)


solid = part.part
